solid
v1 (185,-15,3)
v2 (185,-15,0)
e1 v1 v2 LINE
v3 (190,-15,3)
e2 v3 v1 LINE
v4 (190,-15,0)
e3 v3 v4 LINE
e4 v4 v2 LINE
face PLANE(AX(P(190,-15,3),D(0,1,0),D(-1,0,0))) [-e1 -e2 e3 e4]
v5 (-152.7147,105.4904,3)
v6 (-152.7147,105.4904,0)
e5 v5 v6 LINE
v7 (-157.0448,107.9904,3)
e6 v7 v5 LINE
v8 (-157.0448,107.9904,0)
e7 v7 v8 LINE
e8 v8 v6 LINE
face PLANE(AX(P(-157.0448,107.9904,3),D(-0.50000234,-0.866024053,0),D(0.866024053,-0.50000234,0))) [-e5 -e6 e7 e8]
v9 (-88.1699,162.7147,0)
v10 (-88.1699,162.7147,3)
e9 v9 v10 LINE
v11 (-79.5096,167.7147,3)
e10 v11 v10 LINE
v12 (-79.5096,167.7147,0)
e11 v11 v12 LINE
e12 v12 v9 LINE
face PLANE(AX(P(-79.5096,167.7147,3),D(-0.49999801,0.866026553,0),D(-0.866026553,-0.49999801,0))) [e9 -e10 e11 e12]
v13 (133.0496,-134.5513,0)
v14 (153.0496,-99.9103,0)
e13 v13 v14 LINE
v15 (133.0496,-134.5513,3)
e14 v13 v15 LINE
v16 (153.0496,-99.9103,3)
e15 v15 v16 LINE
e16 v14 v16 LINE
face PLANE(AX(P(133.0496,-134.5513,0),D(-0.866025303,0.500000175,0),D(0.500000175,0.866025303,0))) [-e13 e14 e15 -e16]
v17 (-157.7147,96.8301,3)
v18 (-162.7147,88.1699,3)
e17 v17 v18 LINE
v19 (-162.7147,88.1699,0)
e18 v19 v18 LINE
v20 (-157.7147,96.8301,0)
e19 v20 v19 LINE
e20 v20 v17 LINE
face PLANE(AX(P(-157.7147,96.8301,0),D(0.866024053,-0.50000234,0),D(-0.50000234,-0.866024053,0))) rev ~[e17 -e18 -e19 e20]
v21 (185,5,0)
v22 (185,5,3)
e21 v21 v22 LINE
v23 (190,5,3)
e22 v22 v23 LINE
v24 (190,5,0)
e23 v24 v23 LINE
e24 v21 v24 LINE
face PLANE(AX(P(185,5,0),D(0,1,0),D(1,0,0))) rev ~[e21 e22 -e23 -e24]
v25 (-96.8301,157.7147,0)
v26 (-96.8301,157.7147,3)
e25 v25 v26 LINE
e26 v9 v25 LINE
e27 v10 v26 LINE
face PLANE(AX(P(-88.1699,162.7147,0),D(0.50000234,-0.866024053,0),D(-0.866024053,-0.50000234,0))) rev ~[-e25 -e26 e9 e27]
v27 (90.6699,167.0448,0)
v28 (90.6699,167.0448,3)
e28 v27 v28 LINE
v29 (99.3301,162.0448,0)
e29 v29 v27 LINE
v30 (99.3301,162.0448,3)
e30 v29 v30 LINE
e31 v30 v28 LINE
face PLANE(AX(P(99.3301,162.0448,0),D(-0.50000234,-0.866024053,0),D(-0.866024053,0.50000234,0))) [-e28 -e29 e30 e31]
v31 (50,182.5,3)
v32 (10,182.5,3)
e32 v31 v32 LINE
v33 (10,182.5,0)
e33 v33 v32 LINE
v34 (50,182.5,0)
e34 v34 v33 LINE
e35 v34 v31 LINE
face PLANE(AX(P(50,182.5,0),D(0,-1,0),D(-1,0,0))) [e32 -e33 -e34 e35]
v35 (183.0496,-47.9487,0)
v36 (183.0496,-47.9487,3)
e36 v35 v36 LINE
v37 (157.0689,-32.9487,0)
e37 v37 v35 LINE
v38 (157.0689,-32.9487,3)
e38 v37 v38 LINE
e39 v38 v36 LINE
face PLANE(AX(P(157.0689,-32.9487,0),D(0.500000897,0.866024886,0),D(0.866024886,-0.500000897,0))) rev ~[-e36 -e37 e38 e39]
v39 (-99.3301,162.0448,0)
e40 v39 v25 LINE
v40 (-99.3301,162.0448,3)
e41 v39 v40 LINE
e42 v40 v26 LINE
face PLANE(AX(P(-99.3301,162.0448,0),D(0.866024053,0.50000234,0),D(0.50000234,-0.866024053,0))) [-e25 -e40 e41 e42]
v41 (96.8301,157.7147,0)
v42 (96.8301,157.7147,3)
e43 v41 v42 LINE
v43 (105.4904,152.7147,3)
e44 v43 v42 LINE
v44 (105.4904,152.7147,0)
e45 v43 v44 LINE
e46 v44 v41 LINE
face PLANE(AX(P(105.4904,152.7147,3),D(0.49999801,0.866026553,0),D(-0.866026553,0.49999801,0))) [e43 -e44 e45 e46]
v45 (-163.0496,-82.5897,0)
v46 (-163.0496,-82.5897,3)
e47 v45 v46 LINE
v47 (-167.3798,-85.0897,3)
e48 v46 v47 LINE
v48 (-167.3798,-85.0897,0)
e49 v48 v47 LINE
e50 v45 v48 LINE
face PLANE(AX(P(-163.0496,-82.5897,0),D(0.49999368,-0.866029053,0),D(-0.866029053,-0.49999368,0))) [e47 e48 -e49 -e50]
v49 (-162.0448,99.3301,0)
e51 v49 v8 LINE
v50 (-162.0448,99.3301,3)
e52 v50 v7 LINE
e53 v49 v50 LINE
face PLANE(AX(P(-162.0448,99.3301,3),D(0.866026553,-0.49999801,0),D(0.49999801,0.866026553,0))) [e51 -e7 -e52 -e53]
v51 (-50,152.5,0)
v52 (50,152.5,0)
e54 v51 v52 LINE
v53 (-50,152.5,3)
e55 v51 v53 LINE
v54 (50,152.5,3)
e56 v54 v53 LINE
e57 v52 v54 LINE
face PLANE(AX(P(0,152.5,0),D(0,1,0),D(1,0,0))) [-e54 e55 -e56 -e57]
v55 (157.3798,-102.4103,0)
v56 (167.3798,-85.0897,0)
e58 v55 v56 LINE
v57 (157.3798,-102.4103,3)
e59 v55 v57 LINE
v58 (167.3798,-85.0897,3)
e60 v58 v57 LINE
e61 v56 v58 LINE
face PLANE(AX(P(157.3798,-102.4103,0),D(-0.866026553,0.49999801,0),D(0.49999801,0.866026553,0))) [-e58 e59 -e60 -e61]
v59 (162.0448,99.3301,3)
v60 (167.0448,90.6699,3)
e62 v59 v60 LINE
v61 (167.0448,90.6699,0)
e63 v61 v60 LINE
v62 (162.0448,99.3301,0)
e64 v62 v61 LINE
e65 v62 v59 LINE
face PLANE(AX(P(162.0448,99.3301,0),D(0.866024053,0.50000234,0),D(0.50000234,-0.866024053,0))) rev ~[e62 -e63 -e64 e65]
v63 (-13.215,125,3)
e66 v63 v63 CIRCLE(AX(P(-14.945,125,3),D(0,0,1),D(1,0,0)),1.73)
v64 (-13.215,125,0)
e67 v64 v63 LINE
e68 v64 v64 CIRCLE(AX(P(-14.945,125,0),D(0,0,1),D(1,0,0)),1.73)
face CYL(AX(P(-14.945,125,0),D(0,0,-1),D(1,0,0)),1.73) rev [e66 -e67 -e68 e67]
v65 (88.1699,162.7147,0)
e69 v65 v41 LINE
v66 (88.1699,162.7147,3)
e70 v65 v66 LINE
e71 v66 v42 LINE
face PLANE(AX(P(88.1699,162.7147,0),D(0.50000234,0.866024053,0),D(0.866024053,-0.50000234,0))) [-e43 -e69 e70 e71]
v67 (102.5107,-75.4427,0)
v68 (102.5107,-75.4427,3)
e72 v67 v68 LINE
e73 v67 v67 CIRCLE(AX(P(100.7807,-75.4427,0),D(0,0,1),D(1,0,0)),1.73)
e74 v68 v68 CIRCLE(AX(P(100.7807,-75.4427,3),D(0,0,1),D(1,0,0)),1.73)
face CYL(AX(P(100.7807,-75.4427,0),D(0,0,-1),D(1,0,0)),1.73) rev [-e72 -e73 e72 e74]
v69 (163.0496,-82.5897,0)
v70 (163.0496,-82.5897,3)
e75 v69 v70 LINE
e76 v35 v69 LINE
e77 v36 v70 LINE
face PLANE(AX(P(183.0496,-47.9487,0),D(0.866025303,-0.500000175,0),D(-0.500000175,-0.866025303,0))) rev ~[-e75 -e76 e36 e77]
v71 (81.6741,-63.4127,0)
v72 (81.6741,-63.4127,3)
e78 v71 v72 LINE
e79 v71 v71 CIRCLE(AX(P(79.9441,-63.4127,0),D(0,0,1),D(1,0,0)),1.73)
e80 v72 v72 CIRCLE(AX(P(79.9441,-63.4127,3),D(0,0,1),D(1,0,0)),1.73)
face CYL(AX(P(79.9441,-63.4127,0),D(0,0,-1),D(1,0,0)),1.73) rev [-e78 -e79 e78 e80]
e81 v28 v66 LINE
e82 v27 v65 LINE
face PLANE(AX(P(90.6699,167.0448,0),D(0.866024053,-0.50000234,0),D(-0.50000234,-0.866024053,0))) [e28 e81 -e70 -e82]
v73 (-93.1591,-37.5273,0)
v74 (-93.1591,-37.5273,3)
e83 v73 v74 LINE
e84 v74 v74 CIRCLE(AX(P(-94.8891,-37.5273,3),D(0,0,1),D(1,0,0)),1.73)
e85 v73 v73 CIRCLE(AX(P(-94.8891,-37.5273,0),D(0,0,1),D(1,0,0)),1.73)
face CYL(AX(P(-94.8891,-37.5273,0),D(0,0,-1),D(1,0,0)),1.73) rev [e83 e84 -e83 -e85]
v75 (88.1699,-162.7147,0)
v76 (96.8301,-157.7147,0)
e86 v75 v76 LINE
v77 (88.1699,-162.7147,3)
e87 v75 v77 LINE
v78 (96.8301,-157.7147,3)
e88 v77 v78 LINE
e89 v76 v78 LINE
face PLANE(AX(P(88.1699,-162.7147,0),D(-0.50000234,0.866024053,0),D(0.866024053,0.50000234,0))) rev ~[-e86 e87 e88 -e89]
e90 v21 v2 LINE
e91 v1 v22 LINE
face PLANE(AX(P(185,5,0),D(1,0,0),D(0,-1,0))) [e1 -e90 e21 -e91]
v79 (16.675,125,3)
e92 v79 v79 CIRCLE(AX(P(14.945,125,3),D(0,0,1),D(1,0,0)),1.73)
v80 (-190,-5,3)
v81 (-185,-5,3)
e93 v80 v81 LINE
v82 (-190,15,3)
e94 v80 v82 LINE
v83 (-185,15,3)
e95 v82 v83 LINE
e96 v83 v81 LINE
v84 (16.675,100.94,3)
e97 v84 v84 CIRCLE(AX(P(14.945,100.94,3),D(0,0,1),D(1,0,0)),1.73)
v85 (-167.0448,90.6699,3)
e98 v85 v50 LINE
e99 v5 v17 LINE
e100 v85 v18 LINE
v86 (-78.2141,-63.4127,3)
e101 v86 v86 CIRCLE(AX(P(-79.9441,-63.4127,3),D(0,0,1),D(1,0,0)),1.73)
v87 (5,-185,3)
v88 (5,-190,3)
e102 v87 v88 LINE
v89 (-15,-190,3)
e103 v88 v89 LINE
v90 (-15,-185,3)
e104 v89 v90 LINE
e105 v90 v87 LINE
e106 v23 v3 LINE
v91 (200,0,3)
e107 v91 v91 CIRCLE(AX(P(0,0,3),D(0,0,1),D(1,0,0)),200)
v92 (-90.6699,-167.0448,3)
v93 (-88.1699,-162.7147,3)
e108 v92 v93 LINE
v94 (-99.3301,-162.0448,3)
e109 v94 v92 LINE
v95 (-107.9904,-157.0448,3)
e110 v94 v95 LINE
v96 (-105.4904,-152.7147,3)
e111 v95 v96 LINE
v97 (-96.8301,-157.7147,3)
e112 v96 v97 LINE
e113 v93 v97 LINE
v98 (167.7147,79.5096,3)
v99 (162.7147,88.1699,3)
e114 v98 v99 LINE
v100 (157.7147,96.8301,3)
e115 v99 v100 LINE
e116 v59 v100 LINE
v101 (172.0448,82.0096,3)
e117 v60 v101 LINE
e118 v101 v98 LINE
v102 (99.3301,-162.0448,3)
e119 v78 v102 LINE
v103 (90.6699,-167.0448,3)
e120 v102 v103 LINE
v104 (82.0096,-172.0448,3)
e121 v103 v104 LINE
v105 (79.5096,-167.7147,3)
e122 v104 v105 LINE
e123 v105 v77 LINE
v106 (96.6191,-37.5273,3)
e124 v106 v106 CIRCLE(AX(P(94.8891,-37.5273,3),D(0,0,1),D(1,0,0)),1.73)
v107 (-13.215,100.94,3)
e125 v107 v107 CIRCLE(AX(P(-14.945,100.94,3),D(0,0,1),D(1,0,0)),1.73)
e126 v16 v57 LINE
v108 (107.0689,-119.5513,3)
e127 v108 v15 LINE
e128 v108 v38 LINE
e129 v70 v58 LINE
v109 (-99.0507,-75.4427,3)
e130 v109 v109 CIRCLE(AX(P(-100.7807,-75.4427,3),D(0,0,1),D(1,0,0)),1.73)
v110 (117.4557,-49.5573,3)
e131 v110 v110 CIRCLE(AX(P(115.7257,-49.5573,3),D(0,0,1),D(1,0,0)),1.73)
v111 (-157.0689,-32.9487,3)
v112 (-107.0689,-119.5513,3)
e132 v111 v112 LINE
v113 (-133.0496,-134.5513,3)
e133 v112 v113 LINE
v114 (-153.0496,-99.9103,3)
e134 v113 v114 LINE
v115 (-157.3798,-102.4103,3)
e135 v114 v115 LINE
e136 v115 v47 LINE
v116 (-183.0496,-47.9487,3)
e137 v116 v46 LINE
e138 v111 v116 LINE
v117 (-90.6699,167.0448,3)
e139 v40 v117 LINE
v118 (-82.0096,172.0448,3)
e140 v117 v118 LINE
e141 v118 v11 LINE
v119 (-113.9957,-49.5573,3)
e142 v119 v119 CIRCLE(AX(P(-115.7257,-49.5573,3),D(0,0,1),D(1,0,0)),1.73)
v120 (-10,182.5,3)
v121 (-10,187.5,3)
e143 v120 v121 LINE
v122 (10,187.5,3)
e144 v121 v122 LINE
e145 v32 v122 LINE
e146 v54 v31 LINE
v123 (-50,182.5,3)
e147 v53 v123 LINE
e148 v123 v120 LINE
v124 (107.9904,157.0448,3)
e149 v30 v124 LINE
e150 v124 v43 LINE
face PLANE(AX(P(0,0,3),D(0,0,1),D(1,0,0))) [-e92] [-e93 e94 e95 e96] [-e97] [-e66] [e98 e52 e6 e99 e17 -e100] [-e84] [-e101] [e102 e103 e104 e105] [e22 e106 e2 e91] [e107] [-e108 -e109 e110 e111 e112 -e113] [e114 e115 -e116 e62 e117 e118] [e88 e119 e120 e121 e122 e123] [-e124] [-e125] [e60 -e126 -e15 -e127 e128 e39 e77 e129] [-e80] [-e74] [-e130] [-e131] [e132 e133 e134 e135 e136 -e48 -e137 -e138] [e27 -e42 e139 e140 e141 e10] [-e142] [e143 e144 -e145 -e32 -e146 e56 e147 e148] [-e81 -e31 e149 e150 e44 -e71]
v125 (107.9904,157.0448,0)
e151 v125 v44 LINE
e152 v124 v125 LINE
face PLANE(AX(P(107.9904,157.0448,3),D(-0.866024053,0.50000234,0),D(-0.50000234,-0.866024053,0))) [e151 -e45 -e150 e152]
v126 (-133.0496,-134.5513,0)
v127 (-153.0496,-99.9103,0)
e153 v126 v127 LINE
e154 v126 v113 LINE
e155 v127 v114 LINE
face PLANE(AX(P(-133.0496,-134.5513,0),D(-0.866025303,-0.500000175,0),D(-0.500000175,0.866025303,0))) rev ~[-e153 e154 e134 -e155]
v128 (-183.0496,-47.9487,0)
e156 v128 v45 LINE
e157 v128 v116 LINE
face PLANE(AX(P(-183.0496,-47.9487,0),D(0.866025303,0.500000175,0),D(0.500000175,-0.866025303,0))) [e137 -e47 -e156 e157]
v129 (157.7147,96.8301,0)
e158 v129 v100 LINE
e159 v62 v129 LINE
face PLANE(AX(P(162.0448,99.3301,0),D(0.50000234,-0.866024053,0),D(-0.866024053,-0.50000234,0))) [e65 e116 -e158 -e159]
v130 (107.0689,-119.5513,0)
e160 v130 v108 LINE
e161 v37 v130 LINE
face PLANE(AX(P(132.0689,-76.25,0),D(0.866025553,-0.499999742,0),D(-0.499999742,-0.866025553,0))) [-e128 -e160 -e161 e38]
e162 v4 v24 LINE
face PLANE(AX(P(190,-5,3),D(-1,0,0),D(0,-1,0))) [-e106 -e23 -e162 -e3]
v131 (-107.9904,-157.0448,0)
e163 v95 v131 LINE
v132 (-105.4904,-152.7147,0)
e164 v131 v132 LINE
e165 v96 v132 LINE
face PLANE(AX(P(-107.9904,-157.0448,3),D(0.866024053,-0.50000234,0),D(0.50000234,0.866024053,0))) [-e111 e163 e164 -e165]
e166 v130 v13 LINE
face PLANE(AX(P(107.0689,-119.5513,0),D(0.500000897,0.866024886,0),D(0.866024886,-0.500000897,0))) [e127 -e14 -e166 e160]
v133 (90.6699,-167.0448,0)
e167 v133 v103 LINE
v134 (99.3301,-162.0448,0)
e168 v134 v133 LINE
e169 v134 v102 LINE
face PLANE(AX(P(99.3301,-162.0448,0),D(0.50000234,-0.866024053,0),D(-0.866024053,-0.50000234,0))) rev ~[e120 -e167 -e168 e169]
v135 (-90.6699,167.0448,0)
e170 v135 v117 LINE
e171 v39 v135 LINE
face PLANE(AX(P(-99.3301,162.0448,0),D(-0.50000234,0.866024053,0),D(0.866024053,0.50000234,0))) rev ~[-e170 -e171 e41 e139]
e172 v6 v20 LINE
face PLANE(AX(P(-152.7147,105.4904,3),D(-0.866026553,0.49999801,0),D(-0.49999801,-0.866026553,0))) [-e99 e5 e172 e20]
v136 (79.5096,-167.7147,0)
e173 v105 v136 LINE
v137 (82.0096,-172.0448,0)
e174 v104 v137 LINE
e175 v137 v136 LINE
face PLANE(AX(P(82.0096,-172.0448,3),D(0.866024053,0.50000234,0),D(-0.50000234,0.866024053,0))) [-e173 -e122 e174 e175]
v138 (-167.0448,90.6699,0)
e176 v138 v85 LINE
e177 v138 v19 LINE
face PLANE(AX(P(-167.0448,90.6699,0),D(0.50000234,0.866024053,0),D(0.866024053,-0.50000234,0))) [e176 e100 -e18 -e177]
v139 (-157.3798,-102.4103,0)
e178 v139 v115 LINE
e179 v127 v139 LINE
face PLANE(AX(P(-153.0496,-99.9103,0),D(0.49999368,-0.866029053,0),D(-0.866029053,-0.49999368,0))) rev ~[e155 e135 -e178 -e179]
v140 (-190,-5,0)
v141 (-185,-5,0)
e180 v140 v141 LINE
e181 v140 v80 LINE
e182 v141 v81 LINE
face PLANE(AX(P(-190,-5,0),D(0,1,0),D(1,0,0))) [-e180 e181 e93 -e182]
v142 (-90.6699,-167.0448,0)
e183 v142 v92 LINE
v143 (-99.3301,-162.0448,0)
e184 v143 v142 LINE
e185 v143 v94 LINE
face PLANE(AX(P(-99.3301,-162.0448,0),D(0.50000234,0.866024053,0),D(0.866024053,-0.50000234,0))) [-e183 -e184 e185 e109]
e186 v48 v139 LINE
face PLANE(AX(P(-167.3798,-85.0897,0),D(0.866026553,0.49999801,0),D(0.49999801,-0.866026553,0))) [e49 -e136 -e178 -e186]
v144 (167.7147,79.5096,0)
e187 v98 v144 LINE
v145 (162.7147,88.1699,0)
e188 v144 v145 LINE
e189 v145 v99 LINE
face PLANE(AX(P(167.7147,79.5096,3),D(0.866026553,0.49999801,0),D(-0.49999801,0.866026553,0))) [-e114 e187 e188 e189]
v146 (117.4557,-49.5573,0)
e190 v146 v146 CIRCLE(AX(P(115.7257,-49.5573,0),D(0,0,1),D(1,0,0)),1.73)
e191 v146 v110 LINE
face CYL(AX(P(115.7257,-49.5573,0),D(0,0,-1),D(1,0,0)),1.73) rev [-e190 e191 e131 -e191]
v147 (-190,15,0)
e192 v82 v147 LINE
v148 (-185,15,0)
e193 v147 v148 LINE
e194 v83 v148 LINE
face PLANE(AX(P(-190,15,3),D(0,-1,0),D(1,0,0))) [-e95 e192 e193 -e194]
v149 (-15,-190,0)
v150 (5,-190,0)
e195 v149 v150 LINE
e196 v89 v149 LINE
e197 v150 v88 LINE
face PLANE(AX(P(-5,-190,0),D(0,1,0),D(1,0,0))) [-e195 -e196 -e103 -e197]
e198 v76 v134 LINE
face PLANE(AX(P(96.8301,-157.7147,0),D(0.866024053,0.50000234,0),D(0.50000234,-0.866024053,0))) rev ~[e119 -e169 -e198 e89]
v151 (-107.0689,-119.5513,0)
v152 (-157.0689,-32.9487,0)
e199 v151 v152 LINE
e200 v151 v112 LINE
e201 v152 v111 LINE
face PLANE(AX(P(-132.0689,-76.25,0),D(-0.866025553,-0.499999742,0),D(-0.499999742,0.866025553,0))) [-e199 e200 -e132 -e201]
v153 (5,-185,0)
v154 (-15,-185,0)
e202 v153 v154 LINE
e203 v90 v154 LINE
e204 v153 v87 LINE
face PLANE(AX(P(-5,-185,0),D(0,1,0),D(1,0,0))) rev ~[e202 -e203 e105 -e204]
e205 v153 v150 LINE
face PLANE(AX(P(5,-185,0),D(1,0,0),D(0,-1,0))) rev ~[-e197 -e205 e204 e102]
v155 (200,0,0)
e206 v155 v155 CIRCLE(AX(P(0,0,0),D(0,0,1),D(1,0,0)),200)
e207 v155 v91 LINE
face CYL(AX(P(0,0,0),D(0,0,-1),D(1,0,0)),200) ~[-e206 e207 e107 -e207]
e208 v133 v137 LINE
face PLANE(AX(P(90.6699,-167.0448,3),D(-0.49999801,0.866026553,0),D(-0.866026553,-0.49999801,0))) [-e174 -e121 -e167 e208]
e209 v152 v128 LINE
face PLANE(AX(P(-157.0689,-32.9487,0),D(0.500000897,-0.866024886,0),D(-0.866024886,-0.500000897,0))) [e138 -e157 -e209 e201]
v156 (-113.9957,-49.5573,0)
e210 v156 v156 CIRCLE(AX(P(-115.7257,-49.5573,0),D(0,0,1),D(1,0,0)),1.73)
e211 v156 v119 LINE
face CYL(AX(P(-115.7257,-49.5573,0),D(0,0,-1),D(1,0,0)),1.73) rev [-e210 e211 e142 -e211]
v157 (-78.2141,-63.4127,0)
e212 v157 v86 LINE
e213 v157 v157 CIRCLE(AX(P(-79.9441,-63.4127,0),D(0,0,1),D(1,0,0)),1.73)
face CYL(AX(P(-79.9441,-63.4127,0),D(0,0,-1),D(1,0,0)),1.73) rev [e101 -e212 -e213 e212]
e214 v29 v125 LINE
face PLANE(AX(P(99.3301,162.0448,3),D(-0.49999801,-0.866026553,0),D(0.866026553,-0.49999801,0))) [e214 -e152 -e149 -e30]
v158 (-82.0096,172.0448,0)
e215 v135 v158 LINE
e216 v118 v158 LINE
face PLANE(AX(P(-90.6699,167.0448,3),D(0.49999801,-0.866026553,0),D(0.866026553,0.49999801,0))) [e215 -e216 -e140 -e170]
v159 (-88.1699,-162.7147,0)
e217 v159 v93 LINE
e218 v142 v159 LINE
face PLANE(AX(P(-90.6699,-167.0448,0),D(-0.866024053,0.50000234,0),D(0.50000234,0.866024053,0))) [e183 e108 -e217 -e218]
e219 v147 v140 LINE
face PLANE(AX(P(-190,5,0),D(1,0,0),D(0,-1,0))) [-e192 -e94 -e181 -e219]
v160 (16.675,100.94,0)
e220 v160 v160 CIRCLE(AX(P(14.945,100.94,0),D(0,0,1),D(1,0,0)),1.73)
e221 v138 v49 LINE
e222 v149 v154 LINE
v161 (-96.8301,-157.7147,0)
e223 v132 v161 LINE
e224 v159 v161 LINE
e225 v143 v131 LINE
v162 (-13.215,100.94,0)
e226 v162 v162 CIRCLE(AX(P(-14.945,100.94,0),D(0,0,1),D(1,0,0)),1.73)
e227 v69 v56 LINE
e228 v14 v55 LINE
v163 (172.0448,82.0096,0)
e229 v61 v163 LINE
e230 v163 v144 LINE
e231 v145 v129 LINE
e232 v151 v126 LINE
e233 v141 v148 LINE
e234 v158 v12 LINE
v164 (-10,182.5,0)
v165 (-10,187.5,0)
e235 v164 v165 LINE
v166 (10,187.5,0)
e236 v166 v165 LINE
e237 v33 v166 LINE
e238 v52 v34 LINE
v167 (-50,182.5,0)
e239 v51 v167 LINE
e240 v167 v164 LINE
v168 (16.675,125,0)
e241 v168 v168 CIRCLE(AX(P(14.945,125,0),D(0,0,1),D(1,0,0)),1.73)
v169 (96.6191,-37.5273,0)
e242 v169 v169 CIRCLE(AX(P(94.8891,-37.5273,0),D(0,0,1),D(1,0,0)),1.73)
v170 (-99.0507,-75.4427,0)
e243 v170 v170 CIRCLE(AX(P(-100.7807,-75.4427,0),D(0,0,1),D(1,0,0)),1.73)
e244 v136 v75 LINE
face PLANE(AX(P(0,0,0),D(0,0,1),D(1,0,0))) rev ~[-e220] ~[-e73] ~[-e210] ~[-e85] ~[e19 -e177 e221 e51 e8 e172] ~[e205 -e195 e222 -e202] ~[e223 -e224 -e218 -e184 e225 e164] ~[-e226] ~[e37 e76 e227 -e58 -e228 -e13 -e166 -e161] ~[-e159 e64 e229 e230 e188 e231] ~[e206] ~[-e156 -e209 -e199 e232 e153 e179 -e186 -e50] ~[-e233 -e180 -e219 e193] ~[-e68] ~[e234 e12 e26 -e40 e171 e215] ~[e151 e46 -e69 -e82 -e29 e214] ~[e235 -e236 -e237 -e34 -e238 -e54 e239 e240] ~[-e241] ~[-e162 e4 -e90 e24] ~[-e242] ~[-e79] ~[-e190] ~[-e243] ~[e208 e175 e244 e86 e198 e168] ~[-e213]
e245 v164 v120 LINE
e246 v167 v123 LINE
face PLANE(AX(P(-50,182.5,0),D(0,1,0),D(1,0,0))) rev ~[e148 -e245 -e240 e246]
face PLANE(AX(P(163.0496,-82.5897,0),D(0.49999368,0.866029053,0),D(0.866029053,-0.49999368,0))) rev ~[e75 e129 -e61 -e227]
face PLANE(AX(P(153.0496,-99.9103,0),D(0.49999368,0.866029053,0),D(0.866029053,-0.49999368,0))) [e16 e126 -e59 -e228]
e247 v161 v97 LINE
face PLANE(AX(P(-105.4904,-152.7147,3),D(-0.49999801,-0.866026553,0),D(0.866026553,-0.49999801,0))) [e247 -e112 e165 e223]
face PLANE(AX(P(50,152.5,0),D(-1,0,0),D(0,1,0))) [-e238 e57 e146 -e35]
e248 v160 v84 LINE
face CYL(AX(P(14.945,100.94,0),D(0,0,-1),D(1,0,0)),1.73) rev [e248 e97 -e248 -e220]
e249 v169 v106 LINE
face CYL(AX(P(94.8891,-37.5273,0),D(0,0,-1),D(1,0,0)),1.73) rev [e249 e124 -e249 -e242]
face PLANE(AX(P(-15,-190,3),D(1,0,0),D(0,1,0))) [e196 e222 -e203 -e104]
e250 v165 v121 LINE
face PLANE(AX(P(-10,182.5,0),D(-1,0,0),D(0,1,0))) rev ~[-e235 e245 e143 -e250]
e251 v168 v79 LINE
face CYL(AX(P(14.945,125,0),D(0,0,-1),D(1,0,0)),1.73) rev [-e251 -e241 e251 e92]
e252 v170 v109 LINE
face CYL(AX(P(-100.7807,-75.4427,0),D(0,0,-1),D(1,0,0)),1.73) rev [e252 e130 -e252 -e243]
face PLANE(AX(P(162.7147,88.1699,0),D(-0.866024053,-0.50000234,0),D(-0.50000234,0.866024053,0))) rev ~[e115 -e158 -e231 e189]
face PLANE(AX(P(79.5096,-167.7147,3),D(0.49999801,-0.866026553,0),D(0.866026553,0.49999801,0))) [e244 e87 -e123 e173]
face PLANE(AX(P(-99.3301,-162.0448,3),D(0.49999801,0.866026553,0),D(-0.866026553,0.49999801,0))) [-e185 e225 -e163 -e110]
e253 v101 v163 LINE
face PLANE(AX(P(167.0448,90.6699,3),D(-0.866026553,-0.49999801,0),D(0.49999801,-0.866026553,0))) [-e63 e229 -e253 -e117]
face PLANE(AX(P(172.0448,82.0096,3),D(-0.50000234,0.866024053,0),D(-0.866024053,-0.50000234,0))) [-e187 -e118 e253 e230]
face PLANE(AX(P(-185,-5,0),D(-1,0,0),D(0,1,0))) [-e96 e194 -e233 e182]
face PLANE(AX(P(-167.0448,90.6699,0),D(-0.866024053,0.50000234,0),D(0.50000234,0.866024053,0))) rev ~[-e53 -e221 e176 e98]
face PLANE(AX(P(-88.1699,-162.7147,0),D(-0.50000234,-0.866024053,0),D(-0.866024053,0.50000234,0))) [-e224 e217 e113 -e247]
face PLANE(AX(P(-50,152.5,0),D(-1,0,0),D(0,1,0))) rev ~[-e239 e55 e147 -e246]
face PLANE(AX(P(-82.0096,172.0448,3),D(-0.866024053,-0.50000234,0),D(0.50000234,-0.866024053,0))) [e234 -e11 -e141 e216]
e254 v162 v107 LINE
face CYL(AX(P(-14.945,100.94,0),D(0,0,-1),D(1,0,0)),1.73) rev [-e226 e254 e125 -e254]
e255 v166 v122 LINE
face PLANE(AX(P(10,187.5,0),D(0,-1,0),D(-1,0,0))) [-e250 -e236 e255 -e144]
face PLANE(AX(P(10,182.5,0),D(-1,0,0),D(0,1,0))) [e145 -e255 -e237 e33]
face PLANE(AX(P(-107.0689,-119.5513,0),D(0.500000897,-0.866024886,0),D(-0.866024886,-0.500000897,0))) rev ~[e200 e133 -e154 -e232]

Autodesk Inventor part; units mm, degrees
ref_plane "YZ Plane" through (0, 0, 0) normal (1, 0, 0) x (0, 1, 0)
ref_plane "XZ Plane" through (0, 0, 0) normal (0, 1, 0) x (-1, 0, 0)
ref_plane "XY Plane" through (0, 0, 0) normal (0, 0, 1) x (1, 0, 0)
sketch "Sketch1" plane through (0, 0, 0) normal (0, 0, 1) x (1, 0, 0)
  circle A0 centre (0, 0) radius 200
  line L0 (90.6699, 167.0448) -> (88.1699, 162.7147)
  line L1 (96.8301, 157.7147) -> (99.3301, 162.0448)
  line L2 (162.0448, 99.3301) -> (157.7147, 96.8301)
  line L3 (162.7147, 88.1699) -> (167.0448, 90.6699)
  line L4 (185, 5) -> (190, 5)
  line L5 (190, -5) -> (185, -5)
  line L6 (88.1699, -162.7147) -> (96.8301, -157.7147)
  line L7 (99.3301, -162.0448) -> (90.6699, -167.0448)
  line L8 (-5, -190) -> (-5, -185)
  line L9 (5, -185) -> (5, -190)
  line L10 (-99.3301, -162.0448) -> (-90.6699, -167.0448)
  line L11 (-88.1699, -162.7147) -> (-96.8301, -157.7147)
  line L12 (-190, 5) -> (-190, -5)
  line L13 (-190, -5) -> (-185, -5)
  line L14 (-185, -5) -> (-185, 5)
  line L15 (-167.0448, 90.6699) -> (-162.0448, 99.3301)
  line L16 (-157.7147, 96.8301) -> (-162.7147, 88.1699)
  line L17 (-99.3301, 162.0448) -> (-90.6699, 167.0448)
  line L18 (-88.1699, 162.7147) -> (-96.8301, 157.7147)
  line L19 (-190, -5) -> (-190, 5)
  line L20 (-185, 5) -> (-185, -5)
  line L21 (88.1699, 162.7147) -> (96.8301, 157.7147)
  line L22 (99.3301, 162.0448) -> (90.6699, 167.0448)
  line L23 (162.7147, 88.1699) -> (157.7147, 96.8301)
  line L24 (162.0448, 99.3301) -> (167.0448, 90.6699)
  line L25 (185, 5) -> (185, -5)
  line L26 (190, 5) -> (190, -5)
  line L27 (96.8301, -157.7147) -> (99.3301, -162.0448)
  line L28 (88.1699, -162.7147) -> (90.6699, -167.0448)
  line L29 (-5, -185) -> (5, -185)
  line L30 (-5, -190) -> (5, -190)
  line L31 (-99.3301, -162.0448) -> (-96.8301, -157.7147)
  line L32 (-90.6699, -167.0448) -> (-88.1699, -162.7147)
  line L33 (-190, 5) -> (-185, 5)
  line L34 (-162.0448, 99.3301) -> (-157.7147, 96.8301)
  line L35 (-167.0448, 90.6699) -> (-162.7147, 88.1699)
  line L36 (-99.3301, 162.0448) -> (-96.8301, 157.7147)
  line L37 (-90.6699, 167.0448) -> (-88.1699, 162.7147)
  line L38 (50, 182.5) -> (10, 182.5)
  line L39 (10, 182.5) -> (10, 187.5)
  line L40 (10, 187.5) -> (0, 187.5)
  line L41 (157.7147, 96.8301) -> (162.0448, 99.3301)
  line L42 (167.0448, 90.6699) -> (162.7147, 88.1699)
  line L43 (-99.3301, -162.0448) -> (-96.8301, -157.7147)
  line L44 (-88.1699, -162.7147) -> (-90.6699, -167.0448)
  line L45 (-99.3301, -162.0448) -> (-96.8301, -157.7147)
  line L46 (-88.1699, -162.7147) -> (-90.6699, -167.0448)
  line L47 (-99.3301, -162.0448) -> (-90.6699, -167.0448)
  circle A1 centre (14.945, 125) radius 1.73
  circle A2 centre (14.945, 100.94) radius 1.73
  circle A3 centre (-14.945, 100.94) radius 1.73
  circle A4 centre (-14.945, 125) radius 1.73
  circle A5 centre (-100.7807, -75.4427) radius 1.73
  circle A6 centre (-115.7257, -49.5573) radius 1.73
  circle A7 centre (-79.9441, -63.4127) radius 1.73
  circle A8 centre (-94.8891, -37.5273) radius 1.73
  circle A9 centre (115.7257, -49.5573) radius 1.73
  circle A10 centre (100.7807, -75.4427) radius 1.73
  circle A11 centre (94.8891, -37.5273) radius 1.73
  circle A12 centre (79.9441, -63.4127) radius 1.73
  line L48 (0, 152.5) -> (50, 152.5)
  line L49 (50, 152.5) -> (50, 182.5)
  line L50 (-10, 182.5) -> (-10, 187.5)
  line L51 (-10, 187.5) -> (0, 187.5)
  line L52 (-50, 182.5) -> (-10, 182.5)
  line L53 (0, 152.5) -> (-50, 152.5)
  line L54 (-50, 152.5) -> (-50, 182.5)
  circle A13 centre (0, 0) radius 200
  line L55 (-163.0496, -82.5897) -> (-167.3798, -85.0897)
  line L56 (-167.3798, -85.0897) -> (-162.3798, -93.75)
  line L57 (-183.0496, -47.9487) -> (-163.0496, -82.5897)
  line L58 (-132.0689, -76.25) -> (-157.0689, -32.9487)
  line L59 (-157.0689, -32.9487) -> (-183.0496, -47.9487)
  line L60 (-132.0689, -76.25) -> (-107.0689, -119.5513)
  line L61 (-157.3798, -102.4103) -> (-162.3798, -93.75)
  line L62 (-153.0496, -99.9103) -> (-157.3798, -102.4103)
  line L63 (-133.0496, -134.5513) -> (-153.0496, -99.9103)
  line L64 (-107.0689, -119.5513) -> (-133.0496, -134.5513)
  circle A14 centre (0, 0) radius 200
  line L65 (153.0496, -99.9103) -> (157.3798, -102.4103)
  line L66 (157.3798, -102.4103) -> (162.3798, -93.75)
  line L67 (133.0496, -134.5513) -> (153.0496, -99.9103)
  line L68 (132.0689, -76.25) -> (107.0689, -119.5513)
  line L69 (107.0689, -119.5513) -> (133.0496, -134.5513)
  line L70 (132.0689, -76.25) -> (157.0689, -32.9487)
  line L71 (167.3798, -85.0897) -> (162.3798, -93.75)
  line L72 (163.0496, -82.5897) -> (167.3798, -85.0897)
  line L73 (183.0496, -47.9487) -> (163.0496, -82.5897)
  line L74 (157.0689, -32.9487) -> (183.0496, -47.9487)
  dimension "d6" = 40
  dimension "d8" = 3.46
  dimension "d9" = 360
  dimension "d11" = 50
  dimension "d14" = 360
extrude "Extrusion1" add sketch "Sketch1" along normal blind 3
sketch "Sketch2" plane through (0, 0, 3) normal (0, 0, 1) x (1, 0, 0)
  line L0 (99.3301, 162.0448) -> (96.8301, 157.7147) projected
  line L1 (99.3301, 162.0448) -> (107.9904, 157.0448)
  line L2 (99.3301, 162.0448) -> (109.3301, 162.0448) construction
  line L3 (107.9904, 157.0448) -> (105.4904, 152.7147)
  line L4 (105.4904, 152.7147) -> (96.8301, 157.7147)
  circle A0 centre (0, 0) radius 200
  line L5 (96.8301, 157.7147) -> (99.3301, 162.0448)
  line L6 (5, 190) -> (15, 190)
  line L7 (5, 190) -> (13.6603, 195) construction
  line L8 (15, 190) -> (15, 185)
  line L9 (15, 185) -> (5, 185)
  line L10 (5, 185) -> (5, 190)
  line L11 (-90.6699, 167.0448) -> (-82.0096, 172.0448)
  line L12 (-90.6699, 167.0448) -> (-85.6699, 175.7051) construction
  line L13 (-82.0096, 172.0448) -> (-79.5096, 167.7147)
  line L14 (-79.5096, 167.7147) -> (-88.1699, 162.7147)
  line L15 (-88.1699, 162.7147) -> (-90.6699, 167.0448)
  line L16 (-162.0448, 99.3301) -> (-157.0448, 107.9904)
  line L17 (-162.0448, 99.3301) -> (-162.0448, 109.3301) construction
  line L18 (-157.0448, 107.9904) -> (-152.7147, 105.4904)
  line L19 (-152.7147, 105.4904) -> (-157.7147, 96.8301)
  line L20 (-157.7147, 96.8301) -> (-162.0448, 99.3301)
  line L21 (-190, 5) -> (-190, 15)
  line L22 (-190, 5) -> (-195, 13.6603) construction
  line L23 (-190, 15) -> (-185, 15)
  line L24 (-185, 15) -> (-185, 5)
  line L25 (-185, 5) -> (-190, 5)
  line L26 (-167.0448, -90.6699) -> (-172.0448, -82.0096)
  line L27 (-167.0448, -90.6699) -> (-175.7051, -85.6699) construction
  line L28 (-172.0448, -82.0096) -> (-167.7147, -79.5096)
  line L29 (-167.7147, -79.5096) -> (-162.7147, -88.1699)
  line L30 (-162.7147, -88.1699) -> (-167.0448, -90.6699)
  line L31 (-99.3301, -162.0448) -> (-107.9904, -157.0448)
  line L32 (-99.3301, -162.0448) -> (-109.3301, -162.0448) construction
  line L33 (-107.9904, -157.0448) -> (-105.4904, -152.7147)
  line L34 (-105.4904, -152.7147) -> (-96.8301, -157.7147)
  line L35 (-96.8301, -157.7147) -> (-99.3301, -162.0448)
  line L36 (-5, -190) -> (-15, -190)
  line L37 (-5, -190) -> (-13.6603, -195) construction
  line L38 (-15, -190) -> (-15, -185)
  line L39 (-15, -185) -> (-5, -185)
  line L40 (-5, -185) -> (-5, -190)
  line L41 (90.6699, -167.0448) -> (82.0096, -172.0448)
  line L42 (90.6699, -167.0448) -> (85.6699, -175.7051) construction
  line L43 (82.0096, -172.0448) -> (79.5096, -167.7147)
  line L44 (79.5096, -167.7147) -> (88.1699, -162.7147)
  line L45 (88.1699, -162.7147) -> (90.6699, -167.0448)
  line L46 (162.0448, -99.3301) -> (157.0448, -107.9904)
  line L47 (162.0448, -99.3301) -> (162.0448, -109.3301) construction
  line L48 (157.0448, -107.9904) -> (152.7147, -105.4904)
  line L49 (152.7147, -105.4904) -> (157.7147, -96.8301)
  line L50 (157.7147, -96.8301) -> (162.0448, -99.3301)
  line L51 (190, -5) -> (190, -15)
  line L52 (190, -5) -> (195, -13.6603) construction
  line L53 (190, -15) -> (185, -15)
  line L54 (185, -15) -> (185, -5)
  line L55 (185, -5) -> (190, -5)
  line L56 (167.0448, 90.6699) -> (172.0448, 82.0096)
  line L57 (167.0448, 90.6699) -> (175.7051, 85.6699) construction
  line L58 (172.0448, 82.0096) -> (167.7147, 79.5096)
  line L59 (167.7147, 79.5096) -> (162.7147, 88.1699)
  line L60 (162.7147, 88.1699) -> (167.0448, 90.6699)
  dimension "d18" = 10
  dimension "d19" = 30
  dimension "d22" = 360
extrude "Extrusion2" cut sketch "Sketch2" against normal blind 10 contours L1 L3 L4 L0 | L11 L13 L14 L15 | L16 L18 L19 L20 | L21 L23 L24 L25 | L31 L33 L34 L35 | L36 L38 L39 L40 | L41 L43 L44 L45 | L51 L53 L54 L55 | L56 L58 L59 L60
properties part number "denew"
